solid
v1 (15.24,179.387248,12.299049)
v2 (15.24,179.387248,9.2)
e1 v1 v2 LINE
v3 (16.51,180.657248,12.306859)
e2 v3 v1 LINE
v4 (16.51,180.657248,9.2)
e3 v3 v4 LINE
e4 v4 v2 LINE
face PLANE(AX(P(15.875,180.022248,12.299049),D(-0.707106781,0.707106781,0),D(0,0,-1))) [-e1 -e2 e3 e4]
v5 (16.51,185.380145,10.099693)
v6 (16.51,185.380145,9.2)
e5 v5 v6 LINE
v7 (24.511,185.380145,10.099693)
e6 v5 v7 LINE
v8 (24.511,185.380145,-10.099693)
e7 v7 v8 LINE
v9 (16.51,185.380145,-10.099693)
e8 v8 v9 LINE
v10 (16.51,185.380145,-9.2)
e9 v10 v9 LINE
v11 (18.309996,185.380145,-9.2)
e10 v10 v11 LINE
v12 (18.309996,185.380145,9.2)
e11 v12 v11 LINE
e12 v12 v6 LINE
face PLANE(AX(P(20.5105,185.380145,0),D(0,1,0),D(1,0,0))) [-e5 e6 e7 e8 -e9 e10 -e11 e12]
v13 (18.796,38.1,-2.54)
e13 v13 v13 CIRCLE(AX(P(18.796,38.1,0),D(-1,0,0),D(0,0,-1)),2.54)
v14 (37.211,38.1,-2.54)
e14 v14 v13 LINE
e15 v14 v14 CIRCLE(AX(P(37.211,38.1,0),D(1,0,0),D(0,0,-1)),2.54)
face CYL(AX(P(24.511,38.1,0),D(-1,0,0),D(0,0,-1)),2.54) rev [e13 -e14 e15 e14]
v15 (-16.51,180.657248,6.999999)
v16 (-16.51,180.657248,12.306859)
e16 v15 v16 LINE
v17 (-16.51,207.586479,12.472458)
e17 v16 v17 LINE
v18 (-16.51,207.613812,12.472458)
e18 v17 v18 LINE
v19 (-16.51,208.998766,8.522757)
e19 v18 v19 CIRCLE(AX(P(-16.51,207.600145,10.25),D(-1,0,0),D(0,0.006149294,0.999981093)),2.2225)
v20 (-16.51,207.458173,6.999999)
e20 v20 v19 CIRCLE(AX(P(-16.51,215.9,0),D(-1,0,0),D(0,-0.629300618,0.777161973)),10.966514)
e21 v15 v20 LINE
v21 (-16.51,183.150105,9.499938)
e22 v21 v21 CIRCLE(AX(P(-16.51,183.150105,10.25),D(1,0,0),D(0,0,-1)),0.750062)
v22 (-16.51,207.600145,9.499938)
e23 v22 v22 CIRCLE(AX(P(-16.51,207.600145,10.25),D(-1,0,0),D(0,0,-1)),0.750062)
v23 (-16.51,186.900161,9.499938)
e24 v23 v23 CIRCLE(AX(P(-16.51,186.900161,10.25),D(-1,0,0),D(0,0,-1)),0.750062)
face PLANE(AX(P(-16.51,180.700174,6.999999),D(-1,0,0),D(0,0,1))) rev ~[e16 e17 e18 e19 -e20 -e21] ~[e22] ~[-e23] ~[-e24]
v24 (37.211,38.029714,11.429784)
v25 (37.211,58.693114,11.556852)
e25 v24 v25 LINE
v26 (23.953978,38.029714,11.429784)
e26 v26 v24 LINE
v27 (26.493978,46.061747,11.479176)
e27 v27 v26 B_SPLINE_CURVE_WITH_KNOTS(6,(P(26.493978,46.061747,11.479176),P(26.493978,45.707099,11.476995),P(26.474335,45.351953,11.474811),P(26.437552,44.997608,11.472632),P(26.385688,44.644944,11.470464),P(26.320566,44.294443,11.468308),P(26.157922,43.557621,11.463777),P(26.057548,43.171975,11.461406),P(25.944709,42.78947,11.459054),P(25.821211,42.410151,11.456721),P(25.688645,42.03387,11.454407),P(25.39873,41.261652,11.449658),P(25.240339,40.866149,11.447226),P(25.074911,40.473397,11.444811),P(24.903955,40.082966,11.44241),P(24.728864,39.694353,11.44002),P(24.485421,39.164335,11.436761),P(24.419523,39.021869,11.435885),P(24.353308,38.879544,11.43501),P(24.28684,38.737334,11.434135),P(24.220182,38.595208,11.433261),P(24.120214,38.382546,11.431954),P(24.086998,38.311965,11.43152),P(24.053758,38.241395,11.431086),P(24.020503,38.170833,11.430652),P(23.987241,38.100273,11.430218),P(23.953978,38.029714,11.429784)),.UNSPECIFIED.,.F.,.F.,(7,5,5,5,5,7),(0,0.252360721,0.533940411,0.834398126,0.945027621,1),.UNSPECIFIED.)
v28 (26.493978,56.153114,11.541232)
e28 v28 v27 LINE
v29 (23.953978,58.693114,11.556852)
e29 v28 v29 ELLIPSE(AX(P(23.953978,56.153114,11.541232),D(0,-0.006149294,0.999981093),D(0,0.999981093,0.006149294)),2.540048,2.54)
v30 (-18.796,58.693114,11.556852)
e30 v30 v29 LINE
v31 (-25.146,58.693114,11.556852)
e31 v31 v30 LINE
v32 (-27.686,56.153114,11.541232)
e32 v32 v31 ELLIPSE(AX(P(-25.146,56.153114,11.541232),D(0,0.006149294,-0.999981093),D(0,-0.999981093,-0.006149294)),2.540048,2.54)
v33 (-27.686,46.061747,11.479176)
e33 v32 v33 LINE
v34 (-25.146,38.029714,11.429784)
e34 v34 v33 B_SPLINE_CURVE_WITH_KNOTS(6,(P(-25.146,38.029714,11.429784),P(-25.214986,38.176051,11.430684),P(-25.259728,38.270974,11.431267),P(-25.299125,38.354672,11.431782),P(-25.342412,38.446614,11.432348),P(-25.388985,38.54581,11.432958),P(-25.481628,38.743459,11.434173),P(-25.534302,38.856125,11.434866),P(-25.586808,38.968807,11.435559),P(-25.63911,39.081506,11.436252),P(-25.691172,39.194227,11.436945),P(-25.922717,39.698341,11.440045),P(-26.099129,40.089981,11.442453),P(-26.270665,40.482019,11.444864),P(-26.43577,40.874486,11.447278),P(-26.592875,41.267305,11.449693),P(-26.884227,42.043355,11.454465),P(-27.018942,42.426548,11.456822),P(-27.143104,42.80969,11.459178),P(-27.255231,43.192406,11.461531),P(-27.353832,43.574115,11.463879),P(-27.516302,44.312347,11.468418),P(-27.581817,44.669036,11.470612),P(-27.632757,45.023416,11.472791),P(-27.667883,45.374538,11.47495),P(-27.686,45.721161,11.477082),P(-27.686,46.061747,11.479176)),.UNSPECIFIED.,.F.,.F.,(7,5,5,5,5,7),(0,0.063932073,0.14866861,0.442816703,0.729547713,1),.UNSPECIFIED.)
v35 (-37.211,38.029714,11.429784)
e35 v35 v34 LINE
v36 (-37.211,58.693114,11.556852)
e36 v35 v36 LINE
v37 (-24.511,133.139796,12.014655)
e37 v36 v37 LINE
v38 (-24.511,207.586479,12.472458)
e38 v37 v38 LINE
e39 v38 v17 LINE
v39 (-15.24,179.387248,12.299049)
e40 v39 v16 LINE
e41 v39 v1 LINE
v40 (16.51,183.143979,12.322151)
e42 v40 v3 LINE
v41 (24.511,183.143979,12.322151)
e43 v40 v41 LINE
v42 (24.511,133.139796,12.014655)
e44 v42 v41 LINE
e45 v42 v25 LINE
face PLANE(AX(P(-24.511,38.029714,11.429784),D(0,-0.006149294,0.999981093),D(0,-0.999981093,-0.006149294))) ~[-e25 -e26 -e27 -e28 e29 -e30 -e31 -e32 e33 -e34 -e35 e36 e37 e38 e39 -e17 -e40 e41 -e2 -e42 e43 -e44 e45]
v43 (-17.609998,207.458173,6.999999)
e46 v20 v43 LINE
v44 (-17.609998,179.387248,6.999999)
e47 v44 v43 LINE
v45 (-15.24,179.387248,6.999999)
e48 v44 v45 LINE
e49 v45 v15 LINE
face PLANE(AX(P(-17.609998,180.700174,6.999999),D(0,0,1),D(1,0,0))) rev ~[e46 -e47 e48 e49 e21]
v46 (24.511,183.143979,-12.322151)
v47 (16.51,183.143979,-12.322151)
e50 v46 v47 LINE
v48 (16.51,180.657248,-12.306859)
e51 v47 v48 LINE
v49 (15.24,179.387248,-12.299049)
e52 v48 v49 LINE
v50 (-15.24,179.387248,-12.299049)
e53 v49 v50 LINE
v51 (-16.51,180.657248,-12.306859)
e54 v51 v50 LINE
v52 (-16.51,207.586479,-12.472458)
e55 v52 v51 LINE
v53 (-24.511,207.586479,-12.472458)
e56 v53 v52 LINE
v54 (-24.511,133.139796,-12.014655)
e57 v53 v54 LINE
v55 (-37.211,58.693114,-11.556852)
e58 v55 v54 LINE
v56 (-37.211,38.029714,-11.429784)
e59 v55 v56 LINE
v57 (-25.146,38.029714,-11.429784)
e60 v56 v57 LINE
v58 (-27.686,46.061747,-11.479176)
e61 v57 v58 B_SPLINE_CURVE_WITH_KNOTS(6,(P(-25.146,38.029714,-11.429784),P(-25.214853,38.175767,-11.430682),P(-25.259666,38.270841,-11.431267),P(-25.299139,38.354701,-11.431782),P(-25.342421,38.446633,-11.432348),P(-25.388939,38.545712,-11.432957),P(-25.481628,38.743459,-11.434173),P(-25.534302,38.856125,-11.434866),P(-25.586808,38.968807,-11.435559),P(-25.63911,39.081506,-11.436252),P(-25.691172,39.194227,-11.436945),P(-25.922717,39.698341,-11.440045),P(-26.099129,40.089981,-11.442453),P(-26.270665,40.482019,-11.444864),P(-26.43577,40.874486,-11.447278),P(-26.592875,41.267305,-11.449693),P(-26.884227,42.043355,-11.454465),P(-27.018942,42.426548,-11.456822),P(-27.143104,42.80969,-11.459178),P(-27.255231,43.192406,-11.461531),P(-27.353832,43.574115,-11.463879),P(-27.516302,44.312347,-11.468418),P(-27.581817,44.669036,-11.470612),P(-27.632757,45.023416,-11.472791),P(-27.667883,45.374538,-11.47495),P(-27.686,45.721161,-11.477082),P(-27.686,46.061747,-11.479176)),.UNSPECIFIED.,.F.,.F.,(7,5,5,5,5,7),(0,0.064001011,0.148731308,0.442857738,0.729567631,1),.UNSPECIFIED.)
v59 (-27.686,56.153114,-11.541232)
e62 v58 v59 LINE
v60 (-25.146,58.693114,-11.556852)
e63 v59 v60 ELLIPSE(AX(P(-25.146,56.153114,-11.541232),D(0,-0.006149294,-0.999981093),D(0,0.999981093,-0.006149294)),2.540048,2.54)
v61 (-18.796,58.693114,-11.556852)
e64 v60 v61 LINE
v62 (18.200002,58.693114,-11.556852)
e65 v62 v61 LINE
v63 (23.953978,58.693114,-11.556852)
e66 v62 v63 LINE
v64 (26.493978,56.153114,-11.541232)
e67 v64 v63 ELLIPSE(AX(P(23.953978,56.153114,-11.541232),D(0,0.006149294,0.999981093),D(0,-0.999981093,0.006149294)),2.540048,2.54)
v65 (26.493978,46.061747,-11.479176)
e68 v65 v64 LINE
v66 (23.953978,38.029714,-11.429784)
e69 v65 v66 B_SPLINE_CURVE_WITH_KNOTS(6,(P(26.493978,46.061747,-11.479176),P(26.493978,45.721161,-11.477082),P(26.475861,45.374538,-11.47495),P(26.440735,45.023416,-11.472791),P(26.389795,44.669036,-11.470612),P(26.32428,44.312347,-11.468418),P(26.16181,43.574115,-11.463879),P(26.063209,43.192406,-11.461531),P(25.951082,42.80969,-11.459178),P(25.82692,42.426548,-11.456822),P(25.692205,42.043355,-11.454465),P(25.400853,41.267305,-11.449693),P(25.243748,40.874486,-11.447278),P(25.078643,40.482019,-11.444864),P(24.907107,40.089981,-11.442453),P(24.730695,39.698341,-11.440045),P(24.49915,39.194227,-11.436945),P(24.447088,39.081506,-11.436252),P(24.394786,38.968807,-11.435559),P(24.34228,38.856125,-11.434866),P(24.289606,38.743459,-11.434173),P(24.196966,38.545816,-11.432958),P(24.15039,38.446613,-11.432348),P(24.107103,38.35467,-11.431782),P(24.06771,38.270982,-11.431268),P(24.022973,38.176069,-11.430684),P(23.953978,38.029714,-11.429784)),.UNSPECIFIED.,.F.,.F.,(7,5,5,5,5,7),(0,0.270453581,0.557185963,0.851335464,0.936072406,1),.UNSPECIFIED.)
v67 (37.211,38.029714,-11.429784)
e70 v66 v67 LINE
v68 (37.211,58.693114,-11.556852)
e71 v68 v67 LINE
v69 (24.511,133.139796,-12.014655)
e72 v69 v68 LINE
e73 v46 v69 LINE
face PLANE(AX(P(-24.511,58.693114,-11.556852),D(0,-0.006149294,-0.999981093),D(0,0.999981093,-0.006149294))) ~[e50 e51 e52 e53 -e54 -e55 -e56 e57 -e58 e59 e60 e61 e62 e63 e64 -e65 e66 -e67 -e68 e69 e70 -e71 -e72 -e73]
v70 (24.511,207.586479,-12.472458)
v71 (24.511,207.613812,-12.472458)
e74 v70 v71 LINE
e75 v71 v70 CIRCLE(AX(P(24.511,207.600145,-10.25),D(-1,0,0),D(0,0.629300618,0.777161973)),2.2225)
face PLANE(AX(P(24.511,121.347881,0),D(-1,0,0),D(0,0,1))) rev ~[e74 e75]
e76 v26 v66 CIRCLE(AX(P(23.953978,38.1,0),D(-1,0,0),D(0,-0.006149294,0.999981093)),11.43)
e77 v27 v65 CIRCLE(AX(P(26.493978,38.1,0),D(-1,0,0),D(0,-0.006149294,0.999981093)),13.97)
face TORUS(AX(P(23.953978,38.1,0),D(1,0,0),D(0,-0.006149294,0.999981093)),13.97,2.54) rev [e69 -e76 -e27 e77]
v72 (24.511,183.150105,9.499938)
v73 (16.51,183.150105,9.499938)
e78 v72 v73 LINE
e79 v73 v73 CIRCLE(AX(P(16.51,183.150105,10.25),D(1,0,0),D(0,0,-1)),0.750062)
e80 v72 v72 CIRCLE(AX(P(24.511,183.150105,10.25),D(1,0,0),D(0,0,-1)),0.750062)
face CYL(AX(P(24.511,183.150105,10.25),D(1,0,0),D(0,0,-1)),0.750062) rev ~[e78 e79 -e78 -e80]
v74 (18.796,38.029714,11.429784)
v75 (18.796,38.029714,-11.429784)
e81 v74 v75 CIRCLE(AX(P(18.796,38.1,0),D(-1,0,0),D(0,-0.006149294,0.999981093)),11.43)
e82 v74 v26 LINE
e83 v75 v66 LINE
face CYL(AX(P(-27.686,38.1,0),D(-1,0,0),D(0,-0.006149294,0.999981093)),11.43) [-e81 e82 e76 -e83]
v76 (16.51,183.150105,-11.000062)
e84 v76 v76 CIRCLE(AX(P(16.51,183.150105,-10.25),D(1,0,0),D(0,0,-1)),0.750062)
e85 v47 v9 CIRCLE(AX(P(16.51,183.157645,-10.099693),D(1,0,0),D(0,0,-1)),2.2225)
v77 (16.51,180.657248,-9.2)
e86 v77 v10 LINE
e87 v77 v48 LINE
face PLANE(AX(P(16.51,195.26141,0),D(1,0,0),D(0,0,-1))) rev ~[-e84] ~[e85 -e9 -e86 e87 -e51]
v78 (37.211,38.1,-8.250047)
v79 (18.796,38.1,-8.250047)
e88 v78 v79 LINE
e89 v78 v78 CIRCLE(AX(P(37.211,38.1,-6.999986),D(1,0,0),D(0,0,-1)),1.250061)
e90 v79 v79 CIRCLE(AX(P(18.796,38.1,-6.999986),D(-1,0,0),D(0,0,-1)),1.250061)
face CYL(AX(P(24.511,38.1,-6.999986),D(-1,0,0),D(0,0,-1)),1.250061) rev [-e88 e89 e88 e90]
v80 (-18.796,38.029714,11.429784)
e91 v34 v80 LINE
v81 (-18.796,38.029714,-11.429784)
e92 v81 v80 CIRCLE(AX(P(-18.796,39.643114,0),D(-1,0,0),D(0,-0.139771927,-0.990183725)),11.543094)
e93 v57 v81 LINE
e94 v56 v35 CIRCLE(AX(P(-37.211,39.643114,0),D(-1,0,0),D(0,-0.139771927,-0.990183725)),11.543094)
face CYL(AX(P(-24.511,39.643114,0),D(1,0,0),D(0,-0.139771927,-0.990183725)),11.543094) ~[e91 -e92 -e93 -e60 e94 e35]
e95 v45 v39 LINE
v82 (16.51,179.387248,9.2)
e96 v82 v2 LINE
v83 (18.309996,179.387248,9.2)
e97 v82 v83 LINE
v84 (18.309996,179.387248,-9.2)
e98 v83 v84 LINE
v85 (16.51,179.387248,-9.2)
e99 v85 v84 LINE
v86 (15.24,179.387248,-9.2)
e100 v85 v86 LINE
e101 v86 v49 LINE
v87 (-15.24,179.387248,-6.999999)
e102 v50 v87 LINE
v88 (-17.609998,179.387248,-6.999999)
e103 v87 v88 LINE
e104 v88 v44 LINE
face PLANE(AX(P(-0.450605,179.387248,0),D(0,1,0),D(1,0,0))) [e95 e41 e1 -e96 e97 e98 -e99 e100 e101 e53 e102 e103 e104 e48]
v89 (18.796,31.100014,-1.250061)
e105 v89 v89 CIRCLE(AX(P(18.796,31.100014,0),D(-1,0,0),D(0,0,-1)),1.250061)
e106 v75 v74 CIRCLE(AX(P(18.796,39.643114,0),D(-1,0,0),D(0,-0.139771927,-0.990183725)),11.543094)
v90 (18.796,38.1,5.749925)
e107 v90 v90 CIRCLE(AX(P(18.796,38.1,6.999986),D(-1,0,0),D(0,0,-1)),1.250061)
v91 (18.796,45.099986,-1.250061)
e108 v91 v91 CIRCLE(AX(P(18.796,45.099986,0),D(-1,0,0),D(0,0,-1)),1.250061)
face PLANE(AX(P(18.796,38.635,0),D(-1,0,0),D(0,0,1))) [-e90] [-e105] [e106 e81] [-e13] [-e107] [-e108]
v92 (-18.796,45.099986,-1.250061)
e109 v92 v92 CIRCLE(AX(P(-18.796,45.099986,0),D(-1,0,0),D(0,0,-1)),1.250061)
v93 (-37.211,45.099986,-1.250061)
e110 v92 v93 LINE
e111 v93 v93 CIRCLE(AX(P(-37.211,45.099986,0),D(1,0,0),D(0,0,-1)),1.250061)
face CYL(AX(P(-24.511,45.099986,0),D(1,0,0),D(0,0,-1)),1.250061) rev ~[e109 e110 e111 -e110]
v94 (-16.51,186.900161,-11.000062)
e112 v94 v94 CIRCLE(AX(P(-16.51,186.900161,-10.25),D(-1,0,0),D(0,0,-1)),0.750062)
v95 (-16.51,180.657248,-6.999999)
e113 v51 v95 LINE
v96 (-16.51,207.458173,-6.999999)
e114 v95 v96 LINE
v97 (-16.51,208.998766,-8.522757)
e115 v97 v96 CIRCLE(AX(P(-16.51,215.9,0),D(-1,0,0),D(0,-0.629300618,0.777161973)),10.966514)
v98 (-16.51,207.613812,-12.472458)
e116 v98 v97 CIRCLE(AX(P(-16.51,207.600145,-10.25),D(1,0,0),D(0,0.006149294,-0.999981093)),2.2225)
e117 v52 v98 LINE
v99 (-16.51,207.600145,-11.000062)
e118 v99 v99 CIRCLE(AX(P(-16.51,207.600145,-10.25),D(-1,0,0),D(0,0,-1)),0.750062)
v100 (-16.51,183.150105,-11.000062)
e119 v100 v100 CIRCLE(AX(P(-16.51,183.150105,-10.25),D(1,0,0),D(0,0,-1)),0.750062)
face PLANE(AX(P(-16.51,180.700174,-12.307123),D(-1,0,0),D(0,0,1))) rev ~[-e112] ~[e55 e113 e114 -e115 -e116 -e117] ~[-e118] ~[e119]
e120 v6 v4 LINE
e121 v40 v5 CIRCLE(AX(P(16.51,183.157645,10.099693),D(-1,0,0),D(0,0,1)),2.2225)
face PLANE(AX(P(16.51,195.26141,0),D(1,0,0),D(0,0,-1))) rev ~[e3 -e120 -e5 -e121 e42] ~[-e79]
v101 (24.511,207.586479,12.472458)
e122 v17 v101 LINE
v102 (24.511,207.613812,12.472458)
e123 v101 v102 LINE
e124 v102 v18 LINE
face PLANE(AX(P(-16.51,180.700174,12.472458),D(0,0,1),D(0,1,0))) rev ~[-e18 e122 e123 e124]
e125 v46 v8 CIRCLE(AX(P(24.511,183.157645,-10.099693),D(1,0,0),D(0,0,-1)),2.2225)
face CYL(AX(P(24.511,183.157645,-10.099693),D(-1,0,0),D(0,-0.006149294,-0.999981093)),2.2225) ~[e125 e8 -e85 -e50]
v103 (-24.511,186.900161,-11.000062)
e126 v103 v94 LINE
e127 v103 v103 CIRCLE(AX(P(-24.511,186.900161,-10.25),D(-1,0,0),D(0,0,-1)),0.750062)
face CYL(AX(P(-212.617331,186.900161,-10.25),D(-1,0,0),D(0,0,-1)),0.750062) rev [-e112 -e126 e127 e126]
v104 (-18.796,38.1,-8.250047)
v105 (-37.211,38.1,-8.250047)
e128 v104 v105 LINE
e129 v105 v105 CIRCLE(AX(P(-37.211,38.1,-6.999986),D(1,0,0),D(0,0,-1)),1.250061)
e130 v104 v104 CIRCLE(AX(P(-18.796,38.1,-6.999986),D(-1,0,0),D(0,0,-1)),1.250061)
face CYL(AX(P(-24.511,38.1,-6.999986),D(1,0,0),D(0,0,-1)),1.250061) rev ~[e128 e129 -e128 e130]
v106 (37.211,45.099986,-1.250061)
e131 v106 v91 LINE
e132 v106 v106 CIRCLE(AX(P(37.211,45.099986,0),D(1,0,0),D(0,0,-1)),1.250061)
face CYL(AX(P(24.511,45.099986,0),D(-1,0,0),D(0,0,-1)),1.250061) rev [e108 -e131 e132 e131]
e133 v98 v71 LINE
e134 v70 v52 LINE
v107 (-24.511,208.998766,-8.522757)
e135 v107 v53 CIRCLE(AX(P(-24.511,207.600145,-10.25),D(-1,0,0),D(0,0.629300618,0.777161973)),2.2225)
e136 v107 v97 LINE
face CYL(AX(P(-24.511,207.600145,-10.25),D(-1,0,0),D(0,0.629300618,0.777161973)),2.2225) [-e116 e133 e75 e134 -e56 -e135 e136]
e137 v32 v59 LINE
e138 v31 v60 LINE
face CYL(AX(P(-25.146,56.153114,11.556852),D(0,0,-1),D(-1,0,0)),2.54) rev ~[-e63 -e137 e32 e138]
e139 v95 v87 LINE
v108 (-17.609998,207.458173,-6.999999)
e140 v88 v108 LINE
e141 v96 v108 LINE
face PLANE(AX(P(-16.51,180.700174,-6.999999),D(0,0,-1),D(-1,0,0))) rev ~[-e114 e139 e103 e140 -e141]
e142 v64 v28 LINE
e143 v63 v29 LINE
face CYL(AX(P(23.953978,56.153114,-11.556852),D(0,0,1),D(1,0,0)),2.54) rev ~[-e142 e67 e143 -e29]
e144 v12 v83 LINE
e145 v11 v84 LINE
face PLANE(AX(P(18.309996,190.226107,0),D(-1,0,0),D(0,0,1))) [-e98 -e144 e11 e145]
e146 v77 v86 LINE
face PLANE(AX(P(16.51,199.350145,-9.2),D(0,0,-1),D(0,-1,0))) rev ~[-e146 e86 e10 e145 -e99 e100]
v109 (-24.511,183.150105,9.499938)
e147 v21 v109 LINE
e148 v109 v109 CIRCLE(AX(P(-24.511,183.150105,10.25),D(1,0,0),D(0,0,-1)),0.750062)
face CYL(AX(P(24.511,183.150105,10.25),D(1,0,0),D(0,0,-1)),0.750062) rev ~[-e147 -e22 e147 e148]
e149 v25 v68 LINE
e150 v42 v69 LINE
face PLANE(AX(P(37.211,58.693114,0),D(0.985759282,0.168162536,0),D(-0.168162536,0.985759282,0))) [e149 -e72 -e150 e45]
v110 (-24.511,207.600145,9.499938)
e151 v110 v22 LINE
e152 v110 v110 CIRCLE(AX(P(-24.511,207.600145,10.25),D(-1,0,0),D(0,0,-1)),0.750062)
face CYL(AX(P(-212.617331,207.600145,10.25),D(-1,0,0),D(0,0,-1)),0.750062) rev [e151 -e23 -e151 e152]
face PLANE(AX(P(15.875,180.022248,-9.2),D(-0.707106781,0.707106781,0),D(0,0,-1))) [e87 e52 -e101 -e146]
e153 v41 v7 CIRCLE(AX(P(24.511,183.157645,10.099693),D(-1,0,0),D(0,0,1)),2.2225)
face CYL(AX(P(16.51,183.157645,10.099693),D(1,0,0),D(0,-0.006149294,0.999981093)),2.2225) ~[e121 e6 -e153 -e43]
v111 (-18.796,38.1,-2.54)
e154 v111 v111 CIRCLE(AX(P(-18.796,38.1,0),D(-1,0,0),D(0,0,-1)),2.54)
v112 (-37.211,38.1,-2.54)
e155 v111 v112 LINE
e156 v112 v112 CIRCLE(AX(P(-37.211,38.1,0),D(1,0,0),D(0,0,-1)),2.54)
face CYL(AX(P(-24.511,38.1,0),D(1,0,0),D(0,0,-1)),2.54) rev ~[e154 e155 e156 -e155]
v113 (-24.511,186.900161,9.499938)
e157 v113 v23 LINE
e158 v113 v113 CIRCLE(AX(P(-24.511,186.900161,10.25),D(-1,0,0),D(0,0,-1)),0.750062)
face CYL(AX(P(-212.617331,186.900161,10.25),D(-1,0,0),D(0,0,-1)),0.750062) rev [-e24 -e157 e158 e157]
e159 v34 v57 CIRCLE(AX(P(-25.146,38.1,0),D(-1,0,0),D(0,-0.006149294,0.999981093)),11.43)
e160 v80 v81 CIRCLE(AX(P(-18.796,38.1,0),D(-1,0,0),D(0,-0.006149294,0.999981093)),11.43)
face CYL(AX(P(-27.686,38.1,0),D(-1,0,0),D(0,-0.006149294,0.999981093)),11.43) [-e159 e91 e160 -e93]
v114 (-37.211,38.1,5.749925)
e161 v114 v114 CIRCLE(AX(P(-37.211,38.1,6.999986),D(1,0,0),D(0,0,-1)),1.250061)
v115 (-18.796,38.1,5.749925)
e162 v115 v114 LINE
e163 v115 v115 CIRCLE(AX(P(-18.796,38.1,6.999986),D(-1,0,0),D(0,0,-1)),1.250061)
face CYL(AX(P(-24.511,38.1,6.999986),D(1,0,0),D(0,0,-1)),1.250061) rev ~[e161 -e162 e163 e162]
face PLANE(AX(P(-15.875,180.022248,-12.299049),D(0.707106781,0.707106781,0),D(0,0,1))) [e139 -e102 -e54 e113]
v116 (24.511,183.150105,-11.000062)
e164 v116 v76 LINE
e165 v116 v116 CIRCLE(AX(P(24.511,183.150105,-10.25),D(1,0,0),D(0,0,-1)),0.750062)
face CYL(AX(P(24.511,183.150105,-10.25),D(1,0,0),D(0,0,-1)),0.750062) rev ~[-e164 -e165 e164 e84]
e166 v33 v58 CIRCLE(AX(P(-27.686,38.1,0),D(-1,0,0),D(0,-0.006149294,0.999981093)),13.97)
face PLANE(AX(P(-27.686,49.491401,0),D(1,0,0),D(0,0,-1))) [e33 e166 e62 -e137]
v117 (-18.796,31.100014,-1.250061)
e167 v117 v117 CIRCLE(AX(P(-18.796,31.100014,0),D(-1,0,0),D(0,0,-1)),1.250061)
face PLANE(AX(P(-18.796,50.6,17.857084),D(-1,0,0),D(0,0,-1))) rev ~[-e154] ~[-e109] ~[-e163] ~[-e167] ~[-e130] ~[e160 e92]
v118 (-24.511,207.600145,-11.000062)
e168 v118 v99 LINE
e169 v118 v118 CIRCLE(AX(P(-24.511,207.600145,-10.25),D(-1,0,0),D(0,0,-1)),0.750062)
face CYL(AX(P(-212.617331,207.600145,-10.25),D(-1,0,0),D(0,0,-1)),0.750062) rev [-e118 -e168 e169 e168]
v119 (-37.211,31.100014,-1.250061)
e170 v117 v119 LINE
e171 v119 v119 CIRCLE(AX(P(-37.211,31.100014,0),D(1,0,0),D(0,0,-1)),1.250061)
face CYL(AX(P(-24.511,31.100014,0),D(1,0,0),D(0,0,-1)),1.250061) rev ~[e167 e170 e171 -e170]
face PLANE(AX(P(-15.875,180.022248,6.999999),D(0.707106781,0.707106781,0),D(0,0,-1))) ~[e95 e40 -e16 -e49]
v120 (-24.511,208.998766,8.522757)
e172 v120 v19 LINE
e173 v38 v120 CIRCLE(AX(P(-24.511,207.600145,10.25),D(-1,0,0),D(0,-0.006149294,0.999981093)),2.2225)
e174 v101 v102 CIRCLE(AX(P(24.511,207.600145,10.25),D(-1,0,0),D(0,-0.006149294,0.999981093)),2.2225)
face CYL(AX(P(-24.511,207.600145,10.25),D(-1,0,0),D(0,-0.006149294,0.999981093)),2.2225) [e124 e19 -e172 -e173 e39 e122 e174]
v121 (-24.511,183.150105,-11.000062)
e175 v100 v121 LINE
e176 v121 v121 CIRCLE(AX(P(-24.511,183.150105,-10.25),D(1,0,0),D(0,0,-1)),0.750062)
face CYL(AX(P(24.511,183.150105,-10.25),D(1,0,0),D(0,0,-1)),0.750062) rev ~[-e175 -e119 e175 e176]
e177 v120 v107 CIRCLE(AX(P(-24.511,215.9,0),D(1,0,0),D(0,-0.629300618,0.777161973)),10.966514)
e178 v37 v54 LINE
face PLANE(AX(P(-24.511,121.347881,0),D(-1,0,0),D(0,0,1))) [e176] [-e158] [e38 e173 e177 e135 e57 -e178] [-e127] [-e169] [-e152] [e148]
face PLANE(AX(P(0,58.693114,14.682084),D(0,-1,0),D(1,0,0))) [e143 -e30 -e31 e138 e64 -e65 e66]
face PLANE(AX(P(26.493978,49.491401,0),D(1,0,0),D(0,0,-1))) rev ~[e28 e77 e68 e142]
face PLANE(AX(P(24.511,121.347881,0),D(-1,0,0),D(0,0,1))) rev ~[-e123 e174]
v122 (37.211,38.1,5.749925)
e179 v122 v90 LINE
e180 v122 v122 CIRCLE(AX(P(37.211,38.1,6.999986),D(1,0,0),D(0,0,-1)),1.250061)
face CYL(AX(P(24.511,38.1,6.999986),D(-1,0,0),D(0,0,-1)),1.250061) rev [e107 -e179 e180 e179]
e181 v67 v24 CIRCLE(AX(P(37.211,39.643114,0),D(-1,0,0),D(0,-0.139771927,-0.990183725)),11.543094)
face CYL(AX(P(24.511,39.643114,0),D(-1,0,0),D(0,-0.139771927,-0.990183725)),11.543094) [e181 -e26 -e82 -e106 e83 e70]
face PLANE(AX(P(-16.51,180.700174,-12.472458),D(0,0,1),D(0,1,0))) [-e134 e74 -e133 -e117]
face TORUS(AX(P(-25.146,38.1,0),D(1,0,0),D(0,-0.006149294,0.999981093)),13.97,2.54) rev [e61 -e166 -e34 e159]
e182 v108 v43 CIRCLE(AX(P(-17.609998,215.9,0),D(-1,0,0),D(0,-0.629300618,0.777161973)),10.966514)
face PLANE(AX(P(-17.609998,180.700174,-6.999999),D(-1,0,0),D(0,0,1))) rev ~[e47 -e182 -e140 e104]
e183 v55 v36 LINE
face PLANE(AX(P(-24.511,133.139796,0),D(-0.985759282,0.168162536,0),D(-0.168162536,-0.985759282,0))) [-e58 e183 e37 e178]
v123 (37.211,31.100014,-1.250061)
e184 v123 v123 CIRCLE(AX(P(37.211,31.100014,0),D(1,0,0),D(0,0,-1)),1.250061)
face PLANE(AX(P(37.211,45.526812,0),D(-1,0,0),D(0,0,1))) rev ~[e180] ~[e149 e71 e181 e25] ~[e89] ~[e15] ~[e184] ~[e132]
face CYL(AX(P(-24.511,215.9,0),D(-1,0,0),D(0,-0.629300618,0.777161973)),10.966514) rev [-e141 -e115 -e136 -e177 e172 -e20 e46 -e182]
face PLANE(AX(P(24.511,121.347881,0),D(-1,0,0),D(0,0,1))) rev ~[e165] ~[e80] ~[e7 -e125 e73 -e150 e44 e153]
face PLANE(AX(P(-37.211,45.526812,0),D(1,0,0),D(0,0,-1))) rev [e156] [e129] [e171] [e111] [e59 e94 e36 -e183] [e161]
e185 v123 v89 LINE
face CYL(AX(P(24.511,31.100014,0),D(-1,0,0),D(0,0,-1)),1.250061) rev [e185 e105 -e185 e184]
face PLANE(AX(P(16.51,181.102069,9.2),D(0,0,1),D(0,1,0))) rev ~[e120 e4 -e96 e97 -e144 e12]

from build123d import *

# Parameters (mm, degrees)
BOSS_EXTRUDE1_DEPTH             = 24.511
BOSS_EXTRUDE1_DEPTH_BACK        = 24.511
CUT_EXTRUDE3_DEPTH              = 212.61733137029668
CUT_EXTRUDE3_DEPTH_BACK         = 212.61733137029668
SKETCH3_4_R                     = 1.250061000000001
SKETCH3_4_R_2                   = 1.2500610000000008
SKETCH3_4_R_3                   = 0.7500620000000013
SKETCH3_4_R_4                   = 0.7500620000000047
SKETCH3_4_R_5                   = 0.7500620000000029
SKETCH3_4_R_6                   = 2.5400000000000005
CUT_EXTRUDE4_DEPTH              = 18.796
CUT_EXTRUDE4_DEPTH_BACK         = 18.796
CUT_EXTRUDE5_DEPTH              = 16.51
CUT_EXTRUDE5_DEPTH_BACK         = 16.51
SKETCH4_4_W                     = 24.944915852009693
SKETCH4_4_H                     = 29.122471599999187
CUT_EXTRUDE6_DEPTH              = 18.200001699999998
CUT_EXTRUDE7_DEPTH              = 1.7999963999999997
CUT_EXTRUDE8_DEPTH              = 1.0999978
CUT_EXTRUDE10_DEPTH             = 212.61733137029668
CUT_EXTRUDE10_DEPTH_BACK        = 212.61733137029668
SKETCH7_R                       = 1.2500610000000012
SKETCH7_R_2                     = 1.2500610000000008
SKETCH7_R_3                     = 2.540000000000001
BOSS_EXTRUDE2_DEPTH             = 12.7
SKETCH8_W                       = 37.592
SKETCH8_H                       = 6.349999999999998
CUT_EXTRUDE11_DEPTH             = 8.093114
CUT_EXTRUDE12_DEPTH             = 45.289978
CUT_EXTRUDE12_DEPTH_BACK        = 8.889999999999999
BOSS_EXTRUDE8_REACH             = 215.461
BOSS_EXTRUDE8_DIRECTION_2_REACH = 215.461
FILLET2_R                       = 2.54
SKETCH15_R                      = 0.7500620000000063
CUT_EXTRUDE13_DEPTH             = 220.06782308598028
CUT_EXTRUDE14_DEPTH             = 10.922000000000002
CUT_EXTRUDE14_DEPTH_BACK        = 13.97
SKETCH16_W                      = 8.000999999999998
SKETCH16_H                      = 24.944915852009693
FILLET3_R                       = 2.2224999999999997
CUT_EXTRUDE16_DEPTH             = 1.3129259999999998
SKETCH18_W                      = 1.7999963999999977
SKETCH18_H                      = 18.39999999999989
CUT_EXTRUDE17_DEPTH             = 1.714821389
CHAMFER1_SIZE                   = 1.27


with BuildPart() as part:
    # Sketch3 → Boss-Extrude1 (new, two sides: drawn at the far end of the back side and taken through both)
    with BuildSketch(Plane(origin=(0, 0, 0), x_dir=(0, 0, -1), z_dir=(1, 0, 0)).offset(-BOSS_EXTRUDE1_DEPTH_BACK)):
        with BuildLine():
            Line((-11.429783892027034, 38.029713574858185), (-12.472457926005259, 207.58647868496024))
            ThreePointArc((-12.472457926005259, 207.58647868496024), (-10.998297041817699, 209.69288477315203), (-8.52275746267989, 208.99876611401845))
            ThreePointArc((-8.52275746267989, 208.99876611401845), (4.7735e-13, 204.93348624599832), (8.52275746267989, 208.99876611401845))
            ThreePointArc((8.52275746267989, 208.99876611401845), (10.9982970418177, 209.69288477315203), (12.472457926005257, 207.58647868496024))
            Line((12.472457926005257, 207.58647868496024), (11.429783892027034, 38.029713574858185))
            ThreePointArc((11.429783892027034, 38.029713574858185), (7e-16, 26.67000000000001), (-11.429783892027034, 38.029713574858185))
        make_face()
    extrude(amount=BOSS_EXTRUDE1_DEPTH + BOSS_EXTRUDE1_DEPTH_BACK)

    # Sketch3<4> → Cut-Extrude3 (cut, two sides: drawn at the far end of the back side and taken through both)
    with BuildSketch(Plane(origin=(0, 0, 0), x_dir=(0, 0, -1), z_dir=(1, 0, 0)).offset(-CUT_EXTRUDE3_DEPTH_BACK)):
        with Locations((0, 45.099986)):
            Circle(SKETCH3_4_R)
        with Locations((6.999986, 38.1)):
            Circle(SKETCH3_4_R_2)
        with Locations((8.7e-16, 31.100013999999994)):
            Circle(SKETCH3_4_R)
        with Locations((-6.999986, 38.099999999999994)):
            Circle(SKETCH3_4_R_2)
        with Locations((-10.249999947000001, 186.90016148984893)):
            Circle(SKETCH3_4_R_3)
        with Locations((10.249999947000001, 186.90016148984893)):
            Circle(SKETCH3_4_R_4)
        with Locations((10.249999947, 207.60014548984893)):
            Circle(SKETCH3_4_R_5)
        with Locations((-10.249999947, 207.60014548984893)):
            Circle(SKETCH3_4_R_5)
        with Locations((0, 38.1)):
            Circle(SKETCH3_4_R_6)
    extrude(amount=CUT_EXTRUDE3_DEPTH + CUT_EXTRUDE3_DEPTH_BACK, mode=Mode.SUBTRACT)

    # Sketch4 → Cut-Extrude4 (cut, two sides: drawn at the far end of the back side and taken through both)
    with BuildSketch(Plane(origin=(0, 0, 0), x_dir=(0, 0, -1), z_dir=(1, 0, 0)).offset(-CUT_EXTRUDE4_DEPTH_BACK)):
        Polygon((11.507083734629324, 50.60000000000001), (11.507083734629328, 26.670000000000005), (-11.507083734629262, 26.670000000000005), (-11.507083734629266, 50.60000000000001), align=None)
    extrude(amount=CUT_EXTRUDE4_DEPTH + CUT_EXTRUDE4_DEPTH_BACK, mode=Mode.SUBTRACT)

    # Sketch4<4> → Cut-Extrude5 (cut, two sides: drawn at the far end of the back side and taken through both)
    with BuildSketch(Plane(origin=(0, 0, 0), x_dir=(0, 0, -1), z_dir=(1, 0, 0)).offset(-CUT_EXTRUDE5_DEPTH_BACK)):
        with Locations((4.0767e-13, 195.2614096898485)):
            Rectangle(SKETCH4_4_W, SKETCH4_4_H)
    extrude(amount=CUT_EXTRUDE5_DEPTH + CUT_EXTRUDE5_DEPTH_BACK, mode=Mode.SUBTRACT)

    # Sketch5 → Cut-Extrude6 (cut)
    with BuildSketch(Plane.ZY.offset(-16.51)):
        Polygon((-10.099999946999949, 204.35014548984893), (10.100000053000075, 204.35014548984918), (10.10000005300013, 199.35014548984913), (-10.099999946999894, 199.35014548984896), align=None)
    extrude(amount=-CUT_EXTRUDE6_DEPTH, mode=Mode.SUBTRACT)

    # Sketch5<3> → Cut-Extrude7 (cut)
    with BuildSketch(Plane.ZY.offset(-16.51)):
        Polygon((9.200000053000117, 199.35014548984913), (-9.19999994699991, 199.35014548984896), (-9.199999946999771, 181.10206927849566), (9.200000053000117, 181.10206927849586), align=None)
        with BuildLine():
            ThreePointArc((-8.522757462679255, 208.998766114019), (-8.648059388577664, 209.1406949688589), (-8.7849860703008, 209.27144456274854))
            ThreePointArc((-8.784986070300787, 209.27144456274857), (-7.724991898042871, 208.0617683284812), (-6.499999946999959, 207.01951166294623))
            Line((-6.4999999469999565, 207.01951166294623), (-6.499999946999929, 204.35014548984896))
            Line((-6.499999946999929, 204.35014548984898), (6.500000053000081, 204.35014548984913))
            Line((6.5000000530000825, 204.35014548984915), (6.500000053000054, 207.01951177801337))
            ThreePointArc((6.500000053000056, 207.01951177801337), (7.724991926184506, 208.06176838210936), (8.784986039783028, 209.27144453599774))
            ThreePointArc((8.784986039783035, 209.27144453599774), (8.648059374512448, 209.14069495423342), (8.522757462679118, 208.9987661140191))
            ThreePointArc((8.52275746267912, 208.9987661140191), (-4.352e-14, 204.93348624599935), (-8.52275746267926, 208.998766114019))
        make_face()
        with BuildLine():
            ThreePointArc((-8.7849860703008, 209.27144456274854), (-8.984301764749219, 209.42703201107662), (-9.19999994699976, 209.55897326430892))
            Line((-9.199999946999784, 209.55897326430892), (-9.199999946999847, 204.35014548984893))
            Line((-9.199999946999847, 204.35014548984893), (-6.499999946999929, 204.35014548984896))
            Line((-6.499999946999929, 204.35014548984896), (-6.4999999469999565, 207.01951166294623))
            ThreePointArc((-6.499999946999959, 207.01951166294623), (-7.724991898042871, 208.0617683284812), (-8.784986070300787, 209.27144456274857))
        make_face()
        with BuildLine():
            Line((6.500000053000054, 207.01951177801337), (6.5000000530000825, 204.35014548984915))
            Line((6.5000000530000825, 204.35014548984915), (9.20000005300018, 204.35014548984918))
            Line((9.20000005300018, 204.35014548984918), (9.200000053000243, 209.55897332112895))
            ThreePointArc((9.20000005300017, 209.55897332112897), (8.98430179750009, 209.42703203376715), (8.784986039783035, 209.27144453599774))
            ThreePointArc((8.784986039783028, 209.27144453599774), (7.724991926184506, 208.06176838210936), (6.500000053000056, 207.01951177801337))
        make_face()
    extrude(amount=-CUT_EXTRUDE7_DEPTH, mode=Mode.SUBTRACT)

    # Sketch6 → Cut-Extrude8 (cut)
    with BuildSketch(Plane(origin=(-16.51, 0, 0), x_dir=(0, 0, -1), z_dir=(1, 0, 0))):
        Polygon((6.999998699999999, 180.7001738898489), (-6.999998699999999, 180.7001738898489), (-6.9999987, 209.82264548984818), (6.9999987, 209.82264548984818), align=None)
    extrude(amount=-CUT_EXTRUDE8_DEPTH, mode=Mode.SUBTRACT)

    # Sketch3<5> → Cut-Extrude10 (cut, two sides: drawn at the far end of the back side and taken through both)
    with BuildSketch(Plane(origin=(0, 0, 0), x_dir=(0, 0, -1), z_dir=(1, 0, 0)).offset(-CUT_EXTRUDE10_DEPTH_BACK)):
        with BuildLine():
            ThreePointArc((-11.429783892027034, 38.029713574858185), (7e-16, 26.67000000000001), (11.429783892027034, 38.029713574858185))
            ThreePointArc((11.429783892027034, 38.029713574858185), (3.03e-15, 28.100020000036405), (-11.429783892027034, 38.029713574858185))
        make_face()
    extrude(amount=CUT_EXTRUDE10_DEPTH + CUT_EXTRUDE10_DEPTH_BACK, mode=Mode.SUBTRACT)

    # Sketch7 → Boss-Extrude2 (add)
    with BuildSketch(Plane(origin=(24.511, 0, 0), x_dir=(0, 0, -1), z_dir=(1, 0, 0))):
        with BuildLine():
            Line((-11.429783892027034, 38.02971357485818), (-11.556851609732457, 58.693114083501726))
            Line((-11.556851609732457, 58.693114083501726), (11.556851609732457, 58.693114083501726))
            Line((11.556851609732457, 58.693114083501726), (11.429783892027036, 38.02971357485818))
            ThreePointArc((11.429783892027036, 38.02971357485818), (3.03e-15, 28.1000200000364), (-11.429783892027034, 38.02971357485818))
        make_face()
        with Locations((8.7e-16, 31.100013999999994)):
            Circle(SKETCH7_R, mode=Mode.SUBTRACT)
        with Locations((6.999986, 38.1)):
            Circle(SKETCH7_R_2, mode=Mode.SUBTRACT)
        with Locations((0, 45.099986)):
            Circle(SKETCH7_R, mode=Mode.SUBTRACT)
        with Locations((0, 38.1)):
            Circle(SKETCH7_R_3, mode=Mode.SUBTRACT)
        with Locations((-6.999986, 38.099999999999994)):
            Circle(SKETCH7_R_2, mode=Mode.SUBTRACT)
    boss_extrude2 = extrude(amount=BOSS_EXTRUDE2_DEPTH)

    # Sketch8 → Cut-Extrude11 (cut)
    with BuildSketch(Plane.XZ.offset(-50.60000000000001)):
        with Locations((0, 14.682083734629265)):
            Rectangle(SKETCH8_W, SKETCH8_H)
        Polygon((18.796, 11.507083734629266), (-18.796, 11.507083734629266), (-18.796, -11.429783892027036), (18.200001699999994, -11.429783892027036), (18.200001699999998, -11.507083734629324), (18.796, -11.507083734629324), align=None)
        Polygon((18.200001699999994, -11.429783892027036), (-18.796, -11.429783892027036), (-18.796, -11.507083734629322), (18.200001699999994, -11.507083734629324), align=None)
        Polygon((18.200001699999994, -11.507083734629324), (-18.796, -11.507083734629324), (-18.795999999999996, -17.779783892027037), (18.200001699999998, -17.779783892027037), align=None)
    extrude(amount=-CUT_EXTRUDE11_DEPTH, mode=Mode.SUBTRACT)

    # Mirror1: Boss-Extrude2 across plane
    add(boss_extrude2.mirror(Plane(origin=(0, 0, 0), x_dir=(0, 0, 1), z_dir=(1, 0, 0))))

    # Sketch11 → Cut-Extrude12 (cut, two sides: drawn at the far end of the back side and taken through both)
    with BuildSketch(Plane(origin=(-18.796, 0, 0), x_dir=(0, 0, -1), z_dir=(1, 0, 0)).offset(-CUT_EXTRUDE12_DEPTH_BACK)):
        with BuildLine():
            ThreePointArc((-11.429783892027034, 38.02971357485818), (-2.1e-15, 49.529999999999994), (11.429783892027036, 38.02971357485818))
            Line((11.429783892027036, 38.02971357485818), (11.556851609732457, 58.693114083501726))
            Line((11.556851609732457, 58.693114083501726), (-11.556851609732457, 58.693114083501726))
            Line((-11.556851609732457, 58.693114083501726), (-11.429783892027034, 38.02971357485818))
        make_face()
    extrude(amount=CUT_EXTRUDE12_DEPTH + CUT_EXTRUDE12_DEPTH_BACK, mode=Mode.SUBTRACT)


with BuildPart() as cut_extrude12_piece_1:
    # of the separate pieces the step leaves, piece 1, a body of its own (cut_extrude12_pieces)
    add(part.part.solids().sort_by_distance((-24.511, 207.586478685, -12.472457926))[0])


with BuildPart() as cut_extrude12_piece_2:
    # of the separate pieces the step leaves, piece 2, a body of its own (cut_extrude12_pieces)
    add(part.part.solids().sort_by_distance((37.211, 38.029713575, -11.429783892))[0])



with BuildPart() as cut_extrude12_piece_3:
    # of the separate pieces the step leaves, piece 3, a body of its own (cut_extrude12_pieces)
    add(part.part.solids().sort_by_distance((-27.686, 58.693114084, -11.55685161))[0])


with BuildPart() as cut_extrude12_piece_2_1:
    add(cut_extrude12_piece_2.part)

    add(cut_extrude12_piece_3.part)  # Boss-Extrude8 merges Cut-Extrude12 piece 3
    # Boss-Extrude8: up to this plane
    boss_extrude8_end = Plane(origin=(-24.511, 38.029713574858185, 11.429783892027034), z_dir=(0, 0.006149293538216357, -0.9999810929157515))
    # Sketch14 → Boss-Extrude8 (add, up to the surface)
    with BuildSketch(Plane.XY, mode=Mode.PRIVATE) as boss_extrude8_sk1:
        Polygon((-24.511, 133.13979638423098), (-37.21099999999999, 58.693114083501726), (-24.511, 58.693114083501726), align=None)
    boss_extrude8_tool1 = split(extrude(boss_extrude8_sk1.sketch, amount=BOSS_EXTRUDE8_REACH, mode=Mode.PRIVATE), bisect_by=boss_extrude8_end, keep=Keep.BOTH, mode=Mode.PRIVATE)
    add(boss_extrude8_tool1.solids().sort_by_distance((-28.744333, 83.508675, 0))[0])
    # Sketch14 → Boss-Extrude8 (add, up to the surface)
    with BuildSketch(Plane.XY, mode=Mode.PRIVATE) as boss_extrude8_sk2:
        Polygon((24.511, 133.13979638423098), (24.511, 58.693114083501726), (37.21099999999999, 58.693114083501726), align=None)
    boss_extrude8_tool2 = split(extrude(boss_extrude8_sk2.sketch, amount=BOSS_EXTRUDE8_REACH, mode=Mode.PRIVATE), bisect_by=boss_extrude8_end, keep=Keep.BOTH, mode=Mode.PRIVATE)
    add(boss_extrude8_tool2.solids().sort_by_distance((28.744333, 83.508675, 0))[0])

    # Boss-Extrude8 direction 2: up to this plane
    boss_extrude8_direction_2_end = Plane(origin=(-24.511, 207.58647868496024, -12.472457926005257), z_dir=(0, 0.006149293538216346, 0.9999810929157515))
    # Sketch14 → Boss-Extrude8 direction 2 (add, up to the surface)
    with BuildSketch(Plane.XY, mode=Mode.PRIVATE) as boss_extrude8_direction_2_sk1:
        Polygon((-24.511, 133.13979638423098), (-37.21099999999999, 58.693114083501726), (-24.511, 58.693114083501726), align=None)
    boss_extrude8_direction_2_tool1 = split(extrude(boss_extrude8_direction_2_sk1.sketch, amount=-BOSS_EXTRUDE8_DIRECTION_2_REACH, mode=Mode.PRIVATE), bisect_by=boss_extrude8_direction_2_end, keep=Keep.BOTH, mode=Mode.PRIVATE)
    add(boss_extrude8_direction_2_tool1.solids().sort_by_distance((-28.744333, 83.508675, 0))[0])
    # Sketch14 → Boss-Extrude8 direction 2 (add, up to the surface)
    with BuildSketch(Plane.XY, mode=Mode.PRIVATE) as boss_extrude8_direction_2_sk2:
        Polygon((24.511, 133.13979638423098), (24.511, 58.693114083501726), (37.21099999999999, 58.693114083501726), align=None)
    boss_extrude8_direction_2_tool2 = split(extrude(boss_extrude8_direction_2_sk2.sketch, amount=-BOSS_EXTRUDE8_DIRECTION_2_REACH, mode=Mode.PRIVATE), bisect_by=boss_extrude8_direction_2_end, keep=Keep.BOTH, mode=Mode.PRIVATE)
    add(boss_extrude8_direction_2_tool2.solids().sort_by_distance((28.744333, 83.508675, 0))[0])

    # Combine2: union Cut-Extrude12 piece 1
    add(cut_extrude12_piece_1.part)

    # Fillet2
    fillet2_edges = [cut_extrude12_piece_2_1.edges().sort_by_distance(p)[0] for p in [
        (-27.686, 49.529999999999994, 4.6e-16),
        (-27.686, 58.693114083501726, 0),
        (26.493978, 58.693114083501726, 0),
        (26.493978, 49.529999999999994, 4.6e-16),
    ]]
    fillet(fillet2_edges, radius=FILLET2_R)

    # Sketch15 → Cut-Extrude13 (cut, through all)
    with BuildSketch(Plane(origin=(24.511, 0, 0), x_dir=(0, 0, -1), z_dir=(1, 0, 0))):
        with Locations((-10.249999947000001, 183.15010548984893)):
            Circle(SKETCH15_R)
        with Locations((10.249999947000001, 183.15010548984893)):
            Circle(SKETCH15_R)
    extrude(amount=-CUT_EXTRUDE13_DEPTH, mode=Mode.SUBTRACT)

    # Sketch16 → Cut-Extrude14 (cut, two sides: drawn at the far end of the back side and taken through both)
    with BuildSketch(Plane(origin=(0, 199.35014548984904, -1.64349e-12), x_dir=(1, 0, 0), z_dir=(0, 1, -8.24e-15)).offset(-CUT_EXTRUDE14_DEPTH_BACK)):
        with Locations((20.510500000000004, -1.30118e-12)):
            Rectangle(SKETCH16_W, SKETCH16_H)
    extrude(amount=CUT_EXTRUDE14_DEPTH + CUT_EXTRUDE14_DEPTH_BACK, mode=Mode.SUBTRACT)

    # Fillet3
    fillet3_edges = [cut_extrude12_piece_2_1.edges().sort_by_distance(p)[0] for p in [
        (20.5105, 185.38014548984916, 12.335902082908255),
        (20.5105, 185.38014548984893, -12.33590208290825),
    ]]
    fillet(fillet3_edges, radius=FILLET3_R)

    # Sketch17 → Cut-Extrude16 (cut)
    with BuildSketch(Plane(origin=(0, 180.7001738898489, 0), x_dir=(1, 0, 0), z_dir=(0, 1, 0))):
        Polygon((-16.51, -12.30712301966116), (16.510000000000005, -12.30712301966116), (16.510000000000005, 12.307123019661159), (-16.51, 12.307123019661159), (-16.51, 6.999998699999999), (-17.6099978, 6.999998699999999), (-17.6099978, -6.999998699999999), (-16.51, -6.999998699999999), align=None)
    extrude(amount=-CUT_EXTRUDE16_DEPTH, mode=Mode.SUBTRACT)

    # Sketch18 → Cut-Extrude17 (cut)
    with BuildSketch(Plane(origin=(0, 181.10206927849575, -1.8319e-12), x_dir=(1, 0, 0), z_dir=(0, 1, -1.012e-14))):
        with Locations((17.4099982, -5.300200634e-08)):
            Rectangle(SKETCH18_W, SKETCH18_H)
    extrude(amount=-CUT_EXTRUDE17_DEPTH, mode=Mode.SUBTRACT)

    # Chamfer1
    chamfer1_edges = [cut_extrude12_piece_2_1.edges().sort_by_distance(p)[0] for p in [
        (-16.51, 179.3872478898489, 9.64952399982135),
        (-16.51, 179.3872478898489, -9.649523999821348),
        (16.510000000000005, 179.3872478898489, 10.749524676321418),
        (16.510000000000005, 179.3872478898489, -10.749524623321227),
    ]]
    chamfer(chamfer1_edges, length=CHAMFER1_SIZE)


solid = cut_extrude12_piece_2_1.part
